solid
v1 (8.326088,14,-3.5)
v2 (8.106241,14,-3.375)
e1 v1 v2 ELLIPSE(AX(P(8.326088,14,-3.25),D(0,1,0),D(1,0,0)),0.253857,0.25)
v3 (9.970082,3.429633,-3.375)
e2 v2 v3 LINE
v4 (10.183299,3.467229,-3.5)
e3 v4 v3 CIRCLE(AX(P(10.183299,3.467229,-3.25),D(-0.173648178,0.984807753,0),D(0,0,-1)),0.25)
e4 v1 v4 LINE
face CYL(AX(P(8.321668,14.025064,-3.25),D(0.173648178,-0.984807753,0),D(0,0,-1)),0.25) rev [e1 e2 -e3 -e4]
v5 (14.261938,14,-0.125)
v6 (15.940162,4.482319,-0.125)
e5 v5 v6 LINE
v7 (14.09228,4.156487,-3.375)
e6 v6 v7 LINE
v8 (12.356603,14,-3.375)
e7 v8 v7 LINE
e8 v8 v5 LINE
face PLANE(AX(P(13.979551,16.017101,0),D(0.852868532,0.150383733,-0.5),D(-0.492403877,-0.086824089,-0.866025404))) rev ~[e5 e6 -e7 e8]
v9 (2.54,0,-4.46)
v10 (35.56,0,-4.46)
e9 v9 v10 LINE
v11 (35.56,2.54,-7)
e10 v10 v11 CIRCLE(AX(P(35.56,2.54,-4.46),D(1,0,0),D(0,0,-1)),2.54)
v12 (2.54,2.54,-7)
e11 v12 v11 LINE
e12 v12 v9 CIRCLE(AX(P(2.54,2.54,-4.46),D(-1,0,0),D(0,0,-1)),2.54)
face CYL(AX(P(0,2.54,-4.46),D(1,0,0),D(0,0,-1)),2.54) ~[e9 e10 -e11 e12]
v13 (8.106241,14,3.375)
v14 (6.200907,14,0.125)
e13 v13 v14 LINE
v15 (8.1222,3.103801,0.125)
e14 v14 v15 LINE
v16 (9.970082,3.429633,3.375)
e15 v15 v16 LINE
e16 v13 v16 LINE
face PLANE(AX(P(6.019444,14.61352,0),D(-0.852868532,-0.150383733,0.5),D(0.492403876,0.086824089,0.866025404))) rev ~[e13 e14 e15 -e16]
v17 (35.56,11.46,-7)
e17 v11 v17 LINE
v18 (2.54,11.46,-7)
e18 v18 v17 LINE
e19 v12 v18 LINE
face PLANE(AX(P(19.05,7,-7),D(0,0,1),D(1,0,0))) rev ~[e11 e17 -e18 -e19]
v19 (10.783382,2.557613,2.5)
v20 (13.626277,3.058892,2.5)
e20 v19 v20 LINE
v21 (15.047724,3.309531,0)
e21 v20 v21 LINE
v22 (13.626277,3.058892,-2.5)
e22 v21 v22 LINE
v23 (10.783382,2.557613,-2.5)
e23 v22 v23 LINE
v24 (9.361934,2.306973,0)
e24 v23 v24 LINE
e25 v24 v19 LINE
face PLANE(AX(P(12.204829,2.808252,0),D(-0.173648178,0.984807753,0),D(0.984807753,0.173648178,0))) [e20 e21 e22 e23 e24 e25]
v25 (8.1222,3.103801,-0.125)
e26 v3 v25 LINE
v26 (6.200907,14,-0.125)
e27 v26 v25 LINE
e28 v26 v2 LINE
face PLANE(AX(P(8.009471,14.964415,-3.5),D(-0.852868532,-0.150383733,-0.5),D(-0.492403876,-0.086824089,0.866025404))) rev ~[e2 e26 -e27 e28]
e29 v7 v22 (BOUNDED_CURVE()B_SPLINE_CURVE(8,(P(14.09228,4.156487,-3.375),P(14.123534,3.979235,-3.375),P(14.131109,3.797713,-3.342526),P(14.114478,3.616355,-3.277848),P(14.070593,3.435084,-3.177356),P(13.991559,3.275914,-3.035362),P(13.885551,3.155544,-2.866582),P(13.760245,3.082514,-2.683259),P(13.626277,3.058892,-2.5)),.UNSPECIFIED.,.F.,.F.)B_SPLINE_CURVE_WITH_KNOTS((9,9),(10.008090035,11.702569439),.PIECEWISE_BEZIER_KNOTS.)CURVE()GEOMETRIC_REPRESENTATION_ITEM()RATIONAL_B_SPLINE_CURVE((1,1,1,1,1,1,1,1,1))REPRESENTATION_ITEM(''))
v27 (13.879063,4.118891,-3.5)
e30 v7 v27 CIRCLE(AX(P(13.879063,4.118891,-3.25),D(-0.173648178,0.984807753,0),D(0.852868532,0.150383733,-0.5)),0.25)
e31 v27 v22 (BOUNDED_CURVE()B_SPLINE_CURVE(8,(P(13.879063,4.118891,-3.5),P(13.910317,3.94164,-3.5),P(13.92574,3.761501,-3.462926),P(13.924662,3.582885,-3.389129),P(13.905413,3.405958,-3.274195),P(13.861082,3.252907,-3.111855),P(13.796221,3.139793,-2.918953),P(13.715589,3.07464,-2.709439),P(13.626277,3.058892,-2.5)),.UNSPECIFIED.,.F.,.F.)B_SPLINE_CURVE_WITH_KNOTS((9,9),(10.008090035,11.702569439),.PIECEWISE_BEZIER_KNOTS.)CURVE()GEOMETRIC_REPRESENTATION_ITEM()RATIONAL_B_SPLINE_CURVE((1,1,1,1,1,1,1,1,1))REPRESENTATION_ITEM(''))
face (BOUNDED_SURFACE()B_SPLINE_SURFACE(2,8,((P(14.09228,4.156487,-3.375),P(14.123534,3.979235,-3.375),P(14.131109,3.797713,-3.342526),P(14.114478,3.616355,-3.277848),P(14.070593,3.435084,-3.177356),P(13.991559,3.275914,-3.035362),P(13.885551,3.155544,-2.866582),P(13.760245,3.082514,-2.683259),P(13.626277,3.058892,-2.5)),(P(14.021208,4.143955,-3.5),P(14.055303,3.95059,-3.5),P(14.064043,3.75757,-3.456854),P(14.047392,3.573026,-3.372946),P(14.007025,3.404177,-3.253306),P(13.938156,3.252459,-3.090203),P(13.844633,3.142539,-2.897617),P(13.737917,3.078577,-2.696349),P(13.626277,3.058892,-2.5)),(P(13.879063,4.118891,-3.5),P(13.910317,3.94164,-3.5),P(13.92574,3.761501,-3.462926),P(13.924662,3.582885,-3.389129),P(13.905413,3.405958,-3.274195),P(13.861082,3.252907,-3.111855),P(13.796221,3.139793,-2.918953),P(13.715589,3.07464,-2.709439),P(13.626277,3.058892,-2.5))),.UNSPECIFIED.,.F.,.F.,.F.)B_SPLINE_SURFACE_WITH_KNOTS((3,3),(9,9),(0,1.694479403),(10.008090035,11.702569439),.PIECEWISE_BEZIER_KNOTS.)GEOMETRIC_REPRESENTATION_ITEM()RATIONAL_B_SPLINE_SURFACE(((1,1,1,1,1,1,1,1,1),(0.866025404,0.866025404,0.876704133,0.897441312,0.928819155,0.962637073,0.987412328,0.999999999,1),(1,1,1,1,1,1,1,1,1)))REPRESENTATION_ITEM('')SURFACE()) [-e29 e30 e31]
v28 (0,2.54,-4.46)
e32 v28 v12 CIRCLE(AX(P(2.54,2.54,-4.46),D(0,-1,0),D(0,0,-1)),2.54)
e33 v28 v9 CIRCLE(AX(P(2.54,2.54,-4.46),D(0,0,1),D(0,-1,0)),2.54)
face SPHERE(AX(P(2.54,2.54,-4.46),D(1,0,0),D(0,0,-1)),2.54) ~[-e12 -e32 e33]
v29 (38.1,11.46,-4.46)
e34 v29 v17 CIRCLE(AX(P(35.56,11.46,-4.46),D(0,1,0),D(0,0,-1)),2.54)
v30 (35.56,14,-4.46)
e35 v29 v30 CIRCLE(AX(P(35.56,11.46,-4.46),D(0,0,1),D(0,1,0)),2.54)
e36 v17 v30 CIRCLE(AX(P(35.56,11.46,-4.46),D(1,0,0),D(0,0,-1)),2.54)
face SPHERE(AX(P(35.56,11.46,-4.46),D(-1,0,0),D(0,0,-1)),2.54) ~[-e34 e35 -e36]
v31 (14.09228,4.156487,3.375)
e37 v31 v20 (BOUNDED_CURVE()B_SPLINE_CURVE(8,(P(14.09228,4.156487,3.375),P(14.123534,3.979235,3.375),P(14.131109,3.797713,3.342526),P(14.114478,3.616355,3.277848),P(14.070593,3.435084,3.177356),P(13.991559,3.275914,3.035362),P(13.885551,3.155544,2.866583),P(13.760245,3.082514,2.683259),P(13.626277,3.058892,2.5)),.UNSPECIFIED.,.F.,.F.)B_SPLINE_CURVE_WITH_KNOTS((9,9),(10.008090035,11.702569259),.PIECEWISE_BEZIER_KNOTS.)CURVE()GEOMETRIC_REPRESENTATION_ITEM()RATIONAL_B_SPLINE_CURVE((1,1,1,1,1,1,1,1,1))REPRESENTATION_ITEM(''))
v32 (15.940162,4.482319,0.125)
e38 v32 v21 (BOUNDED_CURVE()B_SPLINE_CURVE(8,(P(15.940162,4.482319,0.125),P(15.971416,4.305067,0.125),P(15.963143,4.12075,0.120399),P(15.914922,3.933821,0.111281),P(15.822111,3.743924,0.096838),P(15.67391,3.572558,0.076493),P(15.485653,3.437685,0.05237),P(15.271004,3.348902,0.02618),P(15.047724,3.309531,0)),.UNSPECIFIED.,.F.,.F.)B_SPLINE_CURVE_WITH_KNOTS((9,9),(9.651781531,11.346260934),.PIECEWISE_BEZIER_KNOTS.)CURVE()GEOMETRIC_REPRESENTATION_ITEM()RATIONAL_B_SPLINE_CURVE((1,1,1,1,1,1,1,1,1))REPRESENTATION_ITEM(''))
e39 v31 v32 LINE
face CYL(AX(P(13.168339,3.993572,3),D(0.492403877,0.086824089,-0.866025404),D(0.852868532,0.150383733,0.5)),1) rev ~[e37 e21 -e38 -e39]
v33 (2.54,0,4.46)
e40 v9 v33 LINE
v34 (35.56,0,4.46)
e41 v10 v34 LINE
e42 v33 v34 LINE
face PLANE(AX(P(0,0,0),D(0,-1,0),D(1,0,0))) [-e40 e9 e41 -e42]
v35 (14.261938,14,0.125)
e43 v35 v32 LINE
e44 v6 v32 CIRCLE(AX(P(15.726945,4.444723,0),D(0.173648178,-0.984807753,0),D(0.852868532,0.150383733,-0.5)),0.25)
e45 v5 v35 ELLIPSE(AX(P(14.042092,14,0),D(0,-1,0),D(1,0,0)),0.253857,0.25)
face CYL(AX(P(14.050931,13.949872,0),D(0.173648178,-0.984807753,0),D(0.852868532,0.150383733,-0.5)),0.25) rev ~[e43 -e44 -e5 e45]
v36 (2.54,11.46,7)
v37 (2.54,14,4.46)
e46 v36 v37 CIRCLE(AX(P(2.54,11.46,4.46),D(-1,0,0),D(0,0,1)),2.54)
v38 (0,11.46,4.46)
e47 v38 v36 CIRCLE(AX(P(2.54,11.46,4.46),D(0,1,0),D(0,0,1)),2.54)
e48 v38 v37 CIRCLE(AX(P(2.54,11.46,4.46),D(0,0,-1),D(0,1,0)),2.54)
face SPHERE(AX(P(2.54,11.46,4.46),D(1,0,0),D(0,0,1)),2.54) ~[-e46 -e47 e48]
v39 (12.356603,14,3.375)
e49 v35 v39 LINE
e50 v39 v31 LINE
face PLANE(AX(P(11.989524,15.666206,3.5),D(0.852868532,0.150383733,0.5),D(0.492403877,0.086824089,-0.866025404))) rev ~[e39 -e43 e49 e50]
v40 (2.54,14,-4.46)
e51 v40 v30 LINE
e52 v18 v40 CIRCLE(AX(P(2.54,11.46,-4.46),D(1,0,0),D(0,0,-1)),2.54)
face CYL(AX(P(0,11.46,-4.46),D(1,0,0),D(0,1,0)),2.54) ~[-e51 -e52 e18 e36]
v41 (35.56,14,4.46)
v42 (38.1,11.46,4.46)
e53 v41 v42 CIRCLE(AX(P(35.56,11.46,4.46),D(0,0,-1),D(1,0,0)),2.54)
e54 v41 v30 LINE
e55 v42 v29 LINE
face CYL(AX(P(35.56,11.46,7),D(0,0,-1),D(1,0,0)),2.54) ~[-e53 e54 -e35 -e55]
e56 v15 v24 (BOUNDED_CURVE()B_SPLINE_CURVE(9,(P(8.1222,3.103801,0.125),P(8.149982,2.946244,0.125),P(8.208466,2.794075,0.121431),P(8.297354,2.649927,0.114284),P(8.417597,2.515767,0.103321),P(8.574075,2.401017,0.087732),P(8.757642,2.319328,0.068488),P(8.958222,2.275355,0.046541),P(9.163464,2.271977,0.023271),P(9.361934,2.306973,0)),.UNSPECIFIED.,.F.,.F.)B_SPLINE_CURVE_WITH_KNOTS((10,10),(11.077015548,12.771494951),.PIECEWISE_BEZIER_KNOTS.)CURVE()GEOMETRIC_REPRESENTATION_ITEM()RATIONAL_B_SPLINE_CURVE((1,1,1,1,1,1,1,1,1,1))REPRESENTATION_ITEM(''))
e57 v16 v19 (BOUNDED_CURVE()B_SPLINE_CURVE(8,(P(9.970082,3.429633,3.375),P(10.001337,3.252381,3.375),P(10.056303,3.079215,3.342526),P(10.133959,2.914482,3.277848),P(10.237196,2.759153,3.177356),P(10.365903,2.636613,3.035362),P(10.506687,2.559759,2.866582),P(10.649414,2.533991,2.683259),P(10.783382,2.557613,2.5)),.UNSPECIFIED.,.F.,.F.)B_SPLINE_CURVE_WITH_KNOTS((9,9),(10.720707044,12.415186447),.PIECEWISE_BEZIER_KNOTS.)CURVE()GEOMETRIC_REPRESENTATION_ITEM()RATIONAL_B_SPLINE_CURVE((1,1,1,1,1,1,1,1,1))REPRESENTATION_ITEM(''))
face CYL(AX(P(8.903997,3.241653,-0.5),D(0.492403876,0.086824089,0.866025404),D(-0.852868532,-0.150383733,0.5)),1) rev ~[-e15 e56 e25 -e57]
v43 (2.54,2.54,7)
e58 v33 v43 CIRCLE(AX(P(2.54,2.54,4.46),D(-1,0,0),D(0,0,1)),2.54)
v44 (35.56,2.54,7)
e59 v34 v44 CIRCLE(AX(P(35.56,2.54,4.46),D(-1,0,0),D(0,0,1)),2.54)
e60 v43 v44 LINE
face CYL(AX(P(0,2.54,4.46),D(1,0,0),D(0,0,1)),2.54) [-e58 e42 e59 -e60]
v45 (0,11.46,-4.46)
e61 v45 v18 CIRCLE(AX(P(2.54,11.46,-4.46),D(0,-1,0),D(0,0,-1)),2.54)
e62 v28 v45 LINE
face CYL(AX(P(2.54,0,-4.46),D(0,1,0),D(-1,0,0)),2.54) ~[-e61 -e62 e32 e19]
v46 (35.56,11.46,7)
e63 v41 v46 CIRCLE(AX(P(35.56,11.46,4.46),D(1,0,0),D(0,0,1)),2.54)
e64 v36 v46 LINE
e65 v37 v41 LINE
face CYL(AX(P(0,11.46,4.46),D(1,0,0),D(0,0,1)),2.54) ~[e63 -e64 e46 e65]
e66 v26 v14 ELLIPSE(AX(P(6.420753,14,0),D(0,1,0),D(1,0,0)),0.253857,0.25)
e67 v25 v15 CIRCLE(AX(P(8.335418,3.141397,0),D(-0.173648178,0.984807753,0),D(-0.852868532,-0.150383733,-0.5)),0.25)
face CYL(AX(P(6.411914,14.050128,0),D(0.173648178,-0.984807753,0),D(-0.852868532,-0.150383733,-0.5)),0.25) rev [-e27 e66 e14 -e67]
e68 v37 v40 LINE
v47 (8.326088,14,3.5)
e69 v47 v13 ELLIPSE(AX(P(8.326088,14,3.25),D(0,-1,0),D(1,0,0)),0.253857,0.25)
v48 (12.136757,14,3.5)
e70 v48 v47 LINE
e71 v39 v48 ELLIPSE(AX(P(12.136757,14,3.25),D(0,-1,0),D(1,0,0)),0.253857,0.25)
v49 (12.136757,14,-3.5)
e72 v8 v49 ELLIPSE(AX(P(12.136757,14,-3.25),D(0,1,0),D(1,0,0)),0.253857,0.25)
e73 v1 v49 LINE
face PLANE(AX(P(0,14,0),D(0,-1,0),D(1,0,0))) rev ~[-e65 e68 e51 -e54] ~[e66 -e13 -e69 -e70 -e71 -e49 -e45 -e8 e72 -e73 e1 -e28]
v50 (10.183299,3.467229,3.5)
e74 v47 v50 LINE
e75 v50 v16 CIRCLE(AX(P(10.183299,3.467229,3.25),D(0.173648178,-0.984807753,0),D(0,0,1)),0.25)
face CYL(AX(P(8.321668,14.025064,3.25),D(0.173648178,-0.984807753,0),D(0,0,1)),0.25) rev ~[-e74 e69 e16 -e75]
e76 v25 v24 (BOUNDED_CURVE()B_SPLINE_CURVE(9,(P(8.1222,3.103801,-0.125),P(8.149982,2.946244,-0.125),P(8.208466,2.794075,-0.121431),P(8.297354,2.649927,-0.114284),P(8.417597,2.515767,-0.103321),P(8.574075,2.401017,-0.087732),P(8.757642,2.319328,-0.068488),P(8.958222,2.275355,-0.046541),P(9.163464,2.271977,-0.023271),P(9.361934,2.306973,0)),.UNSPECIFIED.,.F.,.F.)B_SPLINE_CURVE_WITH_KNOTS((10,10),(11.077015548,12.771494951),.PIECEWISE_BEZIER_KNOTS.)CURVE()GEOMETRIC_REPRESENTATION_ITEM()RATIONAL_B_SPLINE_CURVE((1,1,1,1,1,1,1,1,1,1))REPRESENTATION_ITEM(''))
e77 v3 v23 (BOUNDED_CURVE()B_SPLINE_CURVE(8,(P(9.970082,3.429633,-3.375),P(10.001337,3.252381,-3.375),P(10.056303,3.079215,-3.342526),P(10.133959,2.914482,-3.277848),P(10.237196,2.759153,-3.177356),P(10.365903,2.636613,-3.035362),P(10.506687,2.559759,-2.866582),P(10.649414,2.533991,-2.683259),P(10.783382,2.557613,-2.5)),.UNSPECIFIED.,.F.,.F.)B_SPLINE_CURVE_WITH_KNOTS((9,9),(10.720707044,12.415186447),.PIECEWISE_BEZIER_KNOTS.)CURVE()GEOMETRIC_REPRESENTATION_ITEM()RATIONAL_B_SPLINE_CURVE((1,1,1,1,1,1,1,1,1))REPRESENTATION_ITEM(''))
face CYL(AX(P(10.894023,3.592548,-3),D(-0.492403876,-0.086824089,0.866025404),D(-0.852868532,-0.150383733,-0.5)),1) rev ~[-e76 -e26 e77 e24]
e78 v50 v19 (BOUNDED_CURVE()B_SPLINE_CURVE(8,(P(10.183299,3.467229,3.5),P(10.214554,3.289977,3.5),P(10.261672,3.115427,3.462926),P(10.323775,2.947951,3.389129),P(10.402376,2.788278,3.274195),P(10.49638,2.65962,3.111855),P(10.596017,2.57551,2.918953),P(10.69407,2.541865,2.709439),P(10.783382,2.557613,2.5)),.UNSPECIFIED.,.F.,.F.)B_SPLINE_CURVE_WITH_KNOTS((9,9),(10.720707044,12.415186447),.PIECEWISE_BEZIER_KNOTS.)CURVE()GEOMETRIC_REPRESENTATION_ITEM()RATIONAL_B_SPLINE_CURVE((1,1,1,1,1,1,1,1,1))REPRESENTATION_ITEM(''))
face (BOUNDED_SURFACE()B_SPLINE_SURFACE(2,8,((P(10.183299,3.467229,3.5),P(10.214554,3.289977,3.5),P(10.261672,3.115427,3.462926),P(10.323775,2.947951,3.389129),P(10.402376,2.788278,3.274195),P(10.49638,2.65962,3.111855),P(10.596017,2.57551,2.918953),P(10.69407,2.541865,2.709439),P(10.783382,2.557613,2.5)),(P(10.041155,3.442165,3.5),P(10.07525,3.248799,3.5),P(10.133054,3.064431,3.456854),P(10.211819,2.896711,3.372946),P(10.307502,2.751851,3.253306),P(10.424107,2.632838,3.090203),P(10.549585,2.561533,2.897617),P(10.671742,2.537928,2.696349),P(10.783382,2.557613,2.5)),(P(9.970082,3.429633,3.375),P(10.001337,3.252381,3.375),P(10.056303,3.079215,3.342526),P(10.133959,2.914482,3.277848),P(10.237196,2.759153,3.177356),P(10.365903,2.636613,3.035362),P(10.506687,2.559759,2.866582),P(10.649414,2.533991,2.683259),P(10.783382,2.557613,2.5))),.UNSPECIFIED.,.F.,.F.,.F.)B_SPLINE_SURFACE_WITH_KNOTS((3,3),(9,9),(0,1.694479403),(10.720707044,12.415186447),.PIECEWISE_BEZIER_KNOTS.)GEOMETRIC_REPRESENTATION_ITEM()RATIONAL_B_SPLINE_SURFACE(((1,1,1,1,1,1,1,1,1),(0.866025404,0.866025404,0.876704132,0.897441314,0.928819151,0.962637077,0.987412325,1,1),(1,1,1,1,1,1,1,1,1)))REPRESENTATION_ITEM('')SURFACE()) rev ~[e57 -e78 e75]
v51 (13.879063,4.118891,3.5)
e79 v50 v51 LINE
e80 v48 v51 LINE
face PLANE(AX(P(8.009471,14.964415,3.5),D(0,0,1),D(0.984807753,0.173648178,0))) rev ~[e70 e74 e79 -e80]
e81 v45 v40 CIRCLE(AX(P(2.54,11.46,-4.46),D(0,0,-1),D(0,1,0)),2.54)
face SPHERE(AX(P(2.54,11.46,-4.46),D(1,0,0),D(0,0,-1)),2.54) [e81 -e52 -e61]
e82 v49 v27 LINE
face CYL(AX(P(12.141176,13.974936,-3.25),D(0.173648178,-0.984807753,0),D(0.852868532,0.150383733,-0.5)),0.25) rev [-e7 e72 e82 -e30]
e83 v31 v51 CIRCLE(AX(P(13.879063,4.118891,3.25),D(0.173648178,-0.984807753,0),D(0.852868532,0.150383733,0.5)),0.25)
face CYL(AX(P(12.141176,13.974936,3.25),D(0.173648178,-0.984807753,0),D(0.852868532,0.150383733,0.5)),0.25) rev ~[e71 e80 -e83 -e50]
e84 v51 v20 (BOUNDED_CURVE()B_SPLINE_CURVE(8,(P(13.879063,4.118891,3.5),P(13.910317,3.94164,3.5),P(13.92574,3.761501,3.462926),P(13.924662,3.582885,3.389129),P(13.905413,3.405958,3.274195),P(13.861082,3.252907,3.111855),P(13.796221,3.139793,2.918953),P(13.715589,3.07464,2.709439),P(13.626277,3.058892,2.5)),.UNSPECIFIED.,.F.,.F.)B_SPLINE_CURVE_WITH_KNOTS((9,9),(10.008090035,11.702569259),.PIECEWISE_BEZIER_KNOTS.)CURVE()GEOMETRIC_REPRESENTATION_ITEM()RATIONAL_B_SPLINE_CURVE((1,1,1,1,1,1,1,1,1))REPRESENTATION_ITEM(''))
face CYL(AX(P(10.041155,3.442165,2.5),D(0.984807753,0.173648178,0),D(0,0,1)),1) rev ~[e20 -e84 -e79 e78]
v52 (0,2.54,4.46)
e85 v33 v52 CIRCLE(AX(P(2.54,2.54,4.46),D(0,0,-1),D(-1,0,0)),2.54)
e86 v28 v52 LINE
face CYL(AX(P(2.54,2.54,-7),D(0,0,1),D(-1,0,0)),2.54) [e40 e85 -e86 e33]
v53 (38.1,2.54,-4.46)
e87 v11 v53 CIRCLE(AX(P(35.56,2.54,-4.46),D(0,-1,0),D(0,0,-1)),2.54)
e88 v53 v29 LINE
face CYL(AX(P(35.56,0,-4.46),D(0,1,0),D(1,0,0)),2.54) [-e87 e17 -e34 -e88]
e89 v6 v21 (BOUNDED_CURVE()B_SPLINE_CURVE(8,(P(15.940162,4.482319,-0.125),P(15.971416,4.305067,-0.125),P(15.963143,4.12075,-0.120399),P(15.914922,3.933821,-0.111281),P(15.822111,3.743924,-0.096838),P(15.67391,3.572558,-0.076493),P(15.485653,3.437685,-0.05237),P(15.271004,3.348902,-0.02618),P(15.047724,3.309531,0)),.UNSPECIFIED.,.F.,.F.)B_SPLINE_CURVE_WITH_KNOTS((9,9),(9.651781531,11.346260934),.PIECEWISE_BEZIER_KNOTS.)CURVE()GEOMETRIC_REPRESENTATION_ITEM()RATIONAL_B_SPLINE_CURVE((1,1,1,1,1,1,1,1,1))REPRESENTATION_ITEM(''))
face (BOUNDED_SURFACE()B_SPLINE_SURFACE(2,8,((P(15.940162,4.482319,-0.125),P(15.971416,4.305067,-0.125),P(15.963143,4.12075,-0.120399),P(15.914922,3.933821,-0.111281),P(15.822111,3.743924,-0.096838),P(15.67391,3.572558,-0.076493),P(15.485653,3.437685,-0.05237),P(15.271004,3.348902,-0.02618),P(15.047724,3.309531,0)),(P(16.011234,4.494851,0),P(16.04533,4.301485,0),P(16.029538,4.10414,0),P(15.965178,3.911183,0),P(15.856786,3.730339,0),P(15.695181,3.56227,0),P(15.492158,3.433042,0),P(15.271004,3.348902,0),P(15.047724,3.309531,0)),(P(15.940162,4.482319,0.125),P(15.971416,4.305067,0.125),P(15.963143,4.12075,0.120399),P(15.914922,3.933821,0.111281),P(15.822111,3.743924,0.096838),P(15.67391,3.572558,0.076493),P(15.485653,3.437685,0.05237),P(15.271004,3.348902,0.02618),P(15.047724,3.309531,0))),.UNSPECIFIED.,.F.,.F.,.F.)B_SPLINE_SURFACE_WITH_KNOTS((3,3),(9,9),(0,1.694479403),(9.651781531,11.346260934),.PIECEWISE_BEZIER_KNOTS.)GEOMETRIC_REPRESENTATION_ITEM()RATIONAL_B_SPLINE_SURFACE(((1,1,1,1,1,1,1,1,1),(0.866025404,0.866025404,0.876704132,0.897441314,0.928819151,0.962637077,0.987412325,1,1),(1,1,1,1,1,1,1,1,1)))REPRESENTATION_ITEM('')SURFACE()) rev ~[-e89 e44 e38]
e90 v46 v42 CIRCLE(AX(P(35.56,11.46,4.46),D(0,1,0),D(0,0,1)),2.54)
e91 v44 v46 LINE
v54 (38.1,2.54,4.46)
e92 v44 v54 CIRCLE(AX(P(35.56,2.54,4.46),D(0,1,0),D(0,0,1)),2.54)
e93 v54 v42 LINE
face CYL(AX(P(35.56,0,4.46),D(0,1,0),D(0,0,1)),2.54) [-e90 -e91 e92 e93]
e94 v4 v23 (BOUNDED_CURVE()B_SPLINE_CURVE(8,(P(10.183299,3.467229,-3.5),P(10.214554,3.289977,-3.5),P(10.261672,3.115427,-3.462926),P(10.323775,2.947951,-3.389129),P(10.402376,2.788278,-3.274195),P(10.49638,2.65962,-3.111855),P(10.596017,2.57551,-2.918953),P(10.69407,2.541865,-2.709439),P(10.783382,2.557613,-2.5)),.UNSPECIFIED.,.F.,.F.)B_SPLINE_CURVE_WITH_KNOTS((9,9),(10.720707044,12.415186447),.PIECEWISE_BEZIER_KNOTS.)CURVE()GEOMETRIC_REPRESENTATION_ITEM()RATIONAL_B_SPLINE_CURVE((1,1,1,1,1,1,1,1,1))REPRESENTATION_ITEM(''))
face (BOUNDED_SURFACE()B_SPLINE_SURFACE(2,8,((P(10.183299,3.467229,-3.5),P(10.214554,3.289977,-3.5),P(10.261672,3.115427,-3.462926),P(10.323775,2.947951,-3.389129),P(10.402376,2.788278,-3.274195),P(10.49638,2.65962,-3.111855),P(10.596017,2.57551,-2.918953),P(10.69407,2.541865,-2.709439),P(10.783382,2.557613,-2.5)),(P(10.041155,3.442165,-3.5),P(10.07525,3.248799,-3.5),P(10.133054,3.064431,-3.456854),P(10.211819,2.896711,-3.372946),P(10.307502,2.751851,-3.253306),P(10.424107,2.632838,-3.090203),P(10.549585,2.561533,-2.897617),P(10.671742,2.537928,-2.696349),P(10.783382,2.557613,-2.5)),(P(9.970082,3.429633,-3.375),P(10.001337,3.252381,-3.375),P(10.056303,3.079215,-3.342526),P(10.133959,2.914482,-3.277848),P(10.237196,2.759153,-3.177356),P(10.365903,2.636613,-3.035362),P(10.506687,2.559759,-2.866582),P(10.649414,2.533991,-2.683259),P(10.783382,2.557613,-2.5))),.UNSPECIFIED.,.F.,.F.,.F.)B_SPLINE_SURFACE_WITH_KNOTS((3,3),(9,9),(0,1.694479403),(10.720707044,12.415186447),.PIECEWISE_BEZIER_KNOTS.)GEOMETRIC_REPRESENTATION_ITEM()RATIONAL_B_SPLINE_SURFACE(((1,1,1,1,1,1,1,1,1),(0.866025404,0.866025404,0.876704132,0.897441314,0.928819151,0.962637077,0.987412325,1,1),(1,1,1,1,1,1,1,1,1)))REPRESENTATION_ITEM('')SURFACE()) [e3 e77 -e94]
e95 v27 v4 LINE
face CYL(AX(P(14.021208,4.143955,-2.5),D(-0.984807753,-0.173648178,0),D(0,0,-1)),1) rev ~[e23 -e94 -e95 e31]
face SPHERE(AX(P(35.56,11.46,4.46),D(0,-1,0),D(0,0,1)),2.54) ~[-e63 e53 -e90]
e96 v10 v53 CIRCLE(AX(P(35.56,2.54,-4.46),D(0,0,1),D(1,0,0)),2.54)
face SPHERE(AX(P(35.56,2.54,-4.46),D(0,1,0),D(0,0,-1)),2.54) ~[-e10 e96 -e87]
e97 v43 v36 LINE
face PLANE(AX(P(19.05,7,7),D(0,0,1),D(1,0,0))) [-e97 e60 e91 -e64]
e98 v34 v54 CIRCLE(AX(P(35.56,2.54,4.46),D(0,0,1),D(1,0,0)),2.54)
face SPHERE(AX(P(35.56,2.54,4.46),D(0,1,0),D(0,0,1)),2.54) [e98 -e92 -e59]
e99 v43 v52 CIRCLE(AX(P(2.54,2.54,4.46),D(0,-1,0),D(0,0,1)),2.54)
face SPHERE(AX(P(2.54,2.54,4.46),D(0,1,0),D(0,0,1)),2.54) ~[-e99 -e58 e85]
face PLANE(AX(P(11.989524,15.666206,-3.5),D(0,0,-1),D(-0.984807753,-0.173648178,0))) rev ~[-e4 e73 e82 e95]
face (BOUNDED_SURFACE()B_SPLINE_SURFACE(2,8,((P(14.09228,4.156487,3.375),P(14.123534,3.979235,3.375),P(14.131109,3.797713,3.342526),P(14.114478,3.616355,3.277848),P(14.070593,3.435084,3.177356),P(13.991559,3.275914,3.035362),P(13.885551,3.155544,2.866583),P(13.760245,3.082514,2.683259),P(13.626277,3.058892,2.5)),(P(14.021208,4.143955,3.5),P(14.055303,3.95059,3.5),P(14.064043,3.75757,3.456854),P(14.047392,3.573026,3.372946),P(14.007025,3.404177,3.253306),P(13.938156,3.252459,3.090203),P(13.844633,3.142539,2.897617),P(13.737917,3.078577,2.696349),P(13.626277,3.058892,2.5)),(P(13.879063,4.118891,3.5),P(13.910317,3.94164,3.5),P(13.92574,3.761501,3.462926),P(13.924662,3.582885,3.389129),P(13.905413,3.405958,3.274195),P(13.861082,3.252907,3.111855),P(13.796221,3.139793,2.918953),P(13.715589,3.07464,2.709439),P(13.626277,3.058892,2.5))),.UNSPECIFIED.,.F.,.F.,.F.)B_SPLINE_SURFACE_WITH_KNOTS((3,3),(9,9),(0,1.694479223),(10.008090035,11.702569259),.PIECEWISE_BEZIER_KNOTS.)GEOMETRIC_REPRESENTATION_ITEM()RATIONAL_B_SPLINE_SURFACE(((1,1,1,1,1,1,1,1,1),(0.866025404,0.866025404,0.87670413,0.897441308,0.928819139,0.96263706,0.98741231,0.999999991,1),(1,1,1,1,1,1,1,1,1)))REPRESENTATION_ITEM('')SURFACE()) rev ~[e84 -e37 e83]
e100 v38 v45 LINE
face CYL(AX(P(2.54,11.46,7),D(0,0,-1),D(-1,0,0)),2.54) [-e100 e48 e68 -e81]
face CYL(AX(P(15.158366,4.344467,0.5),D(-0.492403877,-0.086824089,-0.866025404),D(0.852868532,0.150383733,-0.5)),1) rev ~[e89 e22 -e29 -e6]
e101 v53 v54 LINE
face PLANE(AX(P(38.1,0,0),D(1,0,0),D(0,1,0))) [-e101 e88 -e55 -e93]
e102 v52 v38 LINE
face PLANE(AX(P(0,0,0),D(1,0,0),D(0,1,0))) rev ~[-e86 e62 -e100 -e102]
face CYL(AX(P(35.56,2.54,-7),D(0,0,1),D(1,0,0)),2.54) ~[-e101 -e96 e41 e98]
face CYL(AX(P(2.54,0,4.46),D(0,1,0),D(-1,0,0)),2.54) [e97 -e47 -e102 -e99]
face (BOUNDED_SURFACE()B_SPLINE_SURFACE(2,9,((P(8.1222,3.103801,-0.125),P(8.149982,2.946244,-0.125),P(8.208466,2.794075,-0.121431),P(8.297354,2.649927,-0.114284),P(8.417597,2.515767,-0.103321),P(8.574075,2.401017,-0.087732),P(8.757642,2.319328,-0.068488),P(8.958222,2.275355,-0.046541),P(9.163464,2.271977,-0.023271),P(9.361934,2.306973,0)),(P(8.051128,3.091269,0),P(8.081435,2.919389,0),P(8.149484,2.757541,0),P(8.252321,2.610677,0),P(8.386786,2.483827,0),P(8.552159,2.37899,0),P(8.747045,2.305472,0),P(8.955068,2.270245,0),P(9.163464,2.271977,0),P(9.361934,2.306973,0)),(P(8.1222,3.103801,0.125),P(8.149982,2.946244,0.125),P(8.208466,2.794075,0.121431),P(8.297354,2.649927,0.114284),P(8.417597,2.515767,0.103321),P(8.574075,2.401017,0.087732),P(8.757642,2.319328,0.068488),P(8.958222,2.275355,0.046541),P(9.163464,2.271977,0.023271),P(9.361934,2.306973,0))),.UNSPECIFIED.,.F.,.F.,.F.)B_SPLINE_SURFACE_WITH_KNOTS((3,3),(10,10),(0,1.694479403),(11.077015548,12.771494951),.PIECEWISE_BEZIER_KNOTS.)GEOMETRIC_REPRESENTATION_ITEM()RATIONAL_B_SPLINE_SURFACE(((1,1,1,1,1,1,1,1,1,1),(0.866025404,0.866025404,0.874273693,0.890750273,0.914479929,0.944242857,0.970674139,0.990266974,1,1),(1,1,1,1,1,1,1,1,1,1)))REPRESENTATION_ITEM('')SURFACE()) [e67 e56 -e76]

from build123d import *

# Parameters (mm, degrees)
SKETCH1_W           = 38.1
SKETCH1_H           = 14
BOSS_EXTRUDE1_DEPTH = 7
FILLET1_R           = 2.54
CUT_EXTRUDE1_DEPTH  = 12.7
FILLET2_R           = 1
FILLET3_R           = 0.25


with BuildPart() as part:
    # Sketch1 → Boss-Extrude1 (new, symmetric)
    with BuildSketch(Plane.XY):
        with Locations((19.05, 7)):
            Rectangle(SKETCH1_W, SKETCH1_H)
    extrude(amount=BOSS_EXTRUDE1_DEPTH, both=True)

    # Fillet1
    fillet1_edges = [part.edges().sort_by_distance(p)[0] for p in [
        (38.1, 7, 7),
        (19.05, 14, 7),
        (0, 7, 7),
        (19.05, 14, -7),
        (38.1, 7, -7),
        (19.05, 0, -7),
        (0, 7, -7),
        (19.05, 0, 7),
        (0, 14, 0),
        (38.1, 14, 0),
        (38.1, 0, 0),
        (0, 0, 0),
    ]]
    fillet(fillet1_edges, radius=FILLET1_R)

    # Sketch3 → Cut-Extrude1 (cut)
    with BuildSketch(Plane(origin=(-2.317550632, 13.143482763, 0), x_dir=(0.9848077530122074, 0.1736481776669347, 0), z_dir=(-0.17364817766693472, 0.9848077530122075, 0))):
        Polygon((16.548510348, 0), (14.527784405, 3.5), (10.486332521, 3.5), (8.465606579, 0), (10.486332521, -3.5), (14.527784405, -3.5), align=None)
    extrude(amount=-CUT_EXTRUDE1_DEPTH, mode=Mode.SUBTRACT)

    # Fillet2
    fillet2_edges = [part.edges().sort_by_distance(p)[0] for p in [
        (15.189869229, 3.334595276, 1.75),
        (12.204829367, 2.80825221, 3.5),
        (9.219789505, 2.281909144, 1.75),
        (9.219789505, 2.281909144, -1.75),
        (12.204829367, 2.80825221, -3.5),
        (15.189869229, 3.334595276, -1.75),
    ]]
    fillet(fillet2_edges, radius=FILLET2_R)

    # Fillet3
    fillet3_edges = [part.edges().sort_by_distance(p)[0] for p in [
        (13.152264465, 9.07197767, 3.5),
        (9.110338994, 8.721082293, 3.5),
        (7.089376258, 8.545634604, 0),
        (9.110338994, 8.721082293, -3.5),
        (13.152264465, 9.07197767, -3.5),
        (15.173227201, 9.247425359, 0),
        (10.349377707, 2.753337988, -3.181429078),
        (13.96716537, 3.391251564, -3.181429078),
        (8.540483876, 2.434381201, 0),
        (15.776059261, 3.71020842, 0),
        (10.349377707, 2.753337988, 3.181429078),
        (13.96716537, 3.391251564, 3.181429078),
    ]]
    fillet(fillet3_edges, radius=FILLET3_R)


solid = part.part
